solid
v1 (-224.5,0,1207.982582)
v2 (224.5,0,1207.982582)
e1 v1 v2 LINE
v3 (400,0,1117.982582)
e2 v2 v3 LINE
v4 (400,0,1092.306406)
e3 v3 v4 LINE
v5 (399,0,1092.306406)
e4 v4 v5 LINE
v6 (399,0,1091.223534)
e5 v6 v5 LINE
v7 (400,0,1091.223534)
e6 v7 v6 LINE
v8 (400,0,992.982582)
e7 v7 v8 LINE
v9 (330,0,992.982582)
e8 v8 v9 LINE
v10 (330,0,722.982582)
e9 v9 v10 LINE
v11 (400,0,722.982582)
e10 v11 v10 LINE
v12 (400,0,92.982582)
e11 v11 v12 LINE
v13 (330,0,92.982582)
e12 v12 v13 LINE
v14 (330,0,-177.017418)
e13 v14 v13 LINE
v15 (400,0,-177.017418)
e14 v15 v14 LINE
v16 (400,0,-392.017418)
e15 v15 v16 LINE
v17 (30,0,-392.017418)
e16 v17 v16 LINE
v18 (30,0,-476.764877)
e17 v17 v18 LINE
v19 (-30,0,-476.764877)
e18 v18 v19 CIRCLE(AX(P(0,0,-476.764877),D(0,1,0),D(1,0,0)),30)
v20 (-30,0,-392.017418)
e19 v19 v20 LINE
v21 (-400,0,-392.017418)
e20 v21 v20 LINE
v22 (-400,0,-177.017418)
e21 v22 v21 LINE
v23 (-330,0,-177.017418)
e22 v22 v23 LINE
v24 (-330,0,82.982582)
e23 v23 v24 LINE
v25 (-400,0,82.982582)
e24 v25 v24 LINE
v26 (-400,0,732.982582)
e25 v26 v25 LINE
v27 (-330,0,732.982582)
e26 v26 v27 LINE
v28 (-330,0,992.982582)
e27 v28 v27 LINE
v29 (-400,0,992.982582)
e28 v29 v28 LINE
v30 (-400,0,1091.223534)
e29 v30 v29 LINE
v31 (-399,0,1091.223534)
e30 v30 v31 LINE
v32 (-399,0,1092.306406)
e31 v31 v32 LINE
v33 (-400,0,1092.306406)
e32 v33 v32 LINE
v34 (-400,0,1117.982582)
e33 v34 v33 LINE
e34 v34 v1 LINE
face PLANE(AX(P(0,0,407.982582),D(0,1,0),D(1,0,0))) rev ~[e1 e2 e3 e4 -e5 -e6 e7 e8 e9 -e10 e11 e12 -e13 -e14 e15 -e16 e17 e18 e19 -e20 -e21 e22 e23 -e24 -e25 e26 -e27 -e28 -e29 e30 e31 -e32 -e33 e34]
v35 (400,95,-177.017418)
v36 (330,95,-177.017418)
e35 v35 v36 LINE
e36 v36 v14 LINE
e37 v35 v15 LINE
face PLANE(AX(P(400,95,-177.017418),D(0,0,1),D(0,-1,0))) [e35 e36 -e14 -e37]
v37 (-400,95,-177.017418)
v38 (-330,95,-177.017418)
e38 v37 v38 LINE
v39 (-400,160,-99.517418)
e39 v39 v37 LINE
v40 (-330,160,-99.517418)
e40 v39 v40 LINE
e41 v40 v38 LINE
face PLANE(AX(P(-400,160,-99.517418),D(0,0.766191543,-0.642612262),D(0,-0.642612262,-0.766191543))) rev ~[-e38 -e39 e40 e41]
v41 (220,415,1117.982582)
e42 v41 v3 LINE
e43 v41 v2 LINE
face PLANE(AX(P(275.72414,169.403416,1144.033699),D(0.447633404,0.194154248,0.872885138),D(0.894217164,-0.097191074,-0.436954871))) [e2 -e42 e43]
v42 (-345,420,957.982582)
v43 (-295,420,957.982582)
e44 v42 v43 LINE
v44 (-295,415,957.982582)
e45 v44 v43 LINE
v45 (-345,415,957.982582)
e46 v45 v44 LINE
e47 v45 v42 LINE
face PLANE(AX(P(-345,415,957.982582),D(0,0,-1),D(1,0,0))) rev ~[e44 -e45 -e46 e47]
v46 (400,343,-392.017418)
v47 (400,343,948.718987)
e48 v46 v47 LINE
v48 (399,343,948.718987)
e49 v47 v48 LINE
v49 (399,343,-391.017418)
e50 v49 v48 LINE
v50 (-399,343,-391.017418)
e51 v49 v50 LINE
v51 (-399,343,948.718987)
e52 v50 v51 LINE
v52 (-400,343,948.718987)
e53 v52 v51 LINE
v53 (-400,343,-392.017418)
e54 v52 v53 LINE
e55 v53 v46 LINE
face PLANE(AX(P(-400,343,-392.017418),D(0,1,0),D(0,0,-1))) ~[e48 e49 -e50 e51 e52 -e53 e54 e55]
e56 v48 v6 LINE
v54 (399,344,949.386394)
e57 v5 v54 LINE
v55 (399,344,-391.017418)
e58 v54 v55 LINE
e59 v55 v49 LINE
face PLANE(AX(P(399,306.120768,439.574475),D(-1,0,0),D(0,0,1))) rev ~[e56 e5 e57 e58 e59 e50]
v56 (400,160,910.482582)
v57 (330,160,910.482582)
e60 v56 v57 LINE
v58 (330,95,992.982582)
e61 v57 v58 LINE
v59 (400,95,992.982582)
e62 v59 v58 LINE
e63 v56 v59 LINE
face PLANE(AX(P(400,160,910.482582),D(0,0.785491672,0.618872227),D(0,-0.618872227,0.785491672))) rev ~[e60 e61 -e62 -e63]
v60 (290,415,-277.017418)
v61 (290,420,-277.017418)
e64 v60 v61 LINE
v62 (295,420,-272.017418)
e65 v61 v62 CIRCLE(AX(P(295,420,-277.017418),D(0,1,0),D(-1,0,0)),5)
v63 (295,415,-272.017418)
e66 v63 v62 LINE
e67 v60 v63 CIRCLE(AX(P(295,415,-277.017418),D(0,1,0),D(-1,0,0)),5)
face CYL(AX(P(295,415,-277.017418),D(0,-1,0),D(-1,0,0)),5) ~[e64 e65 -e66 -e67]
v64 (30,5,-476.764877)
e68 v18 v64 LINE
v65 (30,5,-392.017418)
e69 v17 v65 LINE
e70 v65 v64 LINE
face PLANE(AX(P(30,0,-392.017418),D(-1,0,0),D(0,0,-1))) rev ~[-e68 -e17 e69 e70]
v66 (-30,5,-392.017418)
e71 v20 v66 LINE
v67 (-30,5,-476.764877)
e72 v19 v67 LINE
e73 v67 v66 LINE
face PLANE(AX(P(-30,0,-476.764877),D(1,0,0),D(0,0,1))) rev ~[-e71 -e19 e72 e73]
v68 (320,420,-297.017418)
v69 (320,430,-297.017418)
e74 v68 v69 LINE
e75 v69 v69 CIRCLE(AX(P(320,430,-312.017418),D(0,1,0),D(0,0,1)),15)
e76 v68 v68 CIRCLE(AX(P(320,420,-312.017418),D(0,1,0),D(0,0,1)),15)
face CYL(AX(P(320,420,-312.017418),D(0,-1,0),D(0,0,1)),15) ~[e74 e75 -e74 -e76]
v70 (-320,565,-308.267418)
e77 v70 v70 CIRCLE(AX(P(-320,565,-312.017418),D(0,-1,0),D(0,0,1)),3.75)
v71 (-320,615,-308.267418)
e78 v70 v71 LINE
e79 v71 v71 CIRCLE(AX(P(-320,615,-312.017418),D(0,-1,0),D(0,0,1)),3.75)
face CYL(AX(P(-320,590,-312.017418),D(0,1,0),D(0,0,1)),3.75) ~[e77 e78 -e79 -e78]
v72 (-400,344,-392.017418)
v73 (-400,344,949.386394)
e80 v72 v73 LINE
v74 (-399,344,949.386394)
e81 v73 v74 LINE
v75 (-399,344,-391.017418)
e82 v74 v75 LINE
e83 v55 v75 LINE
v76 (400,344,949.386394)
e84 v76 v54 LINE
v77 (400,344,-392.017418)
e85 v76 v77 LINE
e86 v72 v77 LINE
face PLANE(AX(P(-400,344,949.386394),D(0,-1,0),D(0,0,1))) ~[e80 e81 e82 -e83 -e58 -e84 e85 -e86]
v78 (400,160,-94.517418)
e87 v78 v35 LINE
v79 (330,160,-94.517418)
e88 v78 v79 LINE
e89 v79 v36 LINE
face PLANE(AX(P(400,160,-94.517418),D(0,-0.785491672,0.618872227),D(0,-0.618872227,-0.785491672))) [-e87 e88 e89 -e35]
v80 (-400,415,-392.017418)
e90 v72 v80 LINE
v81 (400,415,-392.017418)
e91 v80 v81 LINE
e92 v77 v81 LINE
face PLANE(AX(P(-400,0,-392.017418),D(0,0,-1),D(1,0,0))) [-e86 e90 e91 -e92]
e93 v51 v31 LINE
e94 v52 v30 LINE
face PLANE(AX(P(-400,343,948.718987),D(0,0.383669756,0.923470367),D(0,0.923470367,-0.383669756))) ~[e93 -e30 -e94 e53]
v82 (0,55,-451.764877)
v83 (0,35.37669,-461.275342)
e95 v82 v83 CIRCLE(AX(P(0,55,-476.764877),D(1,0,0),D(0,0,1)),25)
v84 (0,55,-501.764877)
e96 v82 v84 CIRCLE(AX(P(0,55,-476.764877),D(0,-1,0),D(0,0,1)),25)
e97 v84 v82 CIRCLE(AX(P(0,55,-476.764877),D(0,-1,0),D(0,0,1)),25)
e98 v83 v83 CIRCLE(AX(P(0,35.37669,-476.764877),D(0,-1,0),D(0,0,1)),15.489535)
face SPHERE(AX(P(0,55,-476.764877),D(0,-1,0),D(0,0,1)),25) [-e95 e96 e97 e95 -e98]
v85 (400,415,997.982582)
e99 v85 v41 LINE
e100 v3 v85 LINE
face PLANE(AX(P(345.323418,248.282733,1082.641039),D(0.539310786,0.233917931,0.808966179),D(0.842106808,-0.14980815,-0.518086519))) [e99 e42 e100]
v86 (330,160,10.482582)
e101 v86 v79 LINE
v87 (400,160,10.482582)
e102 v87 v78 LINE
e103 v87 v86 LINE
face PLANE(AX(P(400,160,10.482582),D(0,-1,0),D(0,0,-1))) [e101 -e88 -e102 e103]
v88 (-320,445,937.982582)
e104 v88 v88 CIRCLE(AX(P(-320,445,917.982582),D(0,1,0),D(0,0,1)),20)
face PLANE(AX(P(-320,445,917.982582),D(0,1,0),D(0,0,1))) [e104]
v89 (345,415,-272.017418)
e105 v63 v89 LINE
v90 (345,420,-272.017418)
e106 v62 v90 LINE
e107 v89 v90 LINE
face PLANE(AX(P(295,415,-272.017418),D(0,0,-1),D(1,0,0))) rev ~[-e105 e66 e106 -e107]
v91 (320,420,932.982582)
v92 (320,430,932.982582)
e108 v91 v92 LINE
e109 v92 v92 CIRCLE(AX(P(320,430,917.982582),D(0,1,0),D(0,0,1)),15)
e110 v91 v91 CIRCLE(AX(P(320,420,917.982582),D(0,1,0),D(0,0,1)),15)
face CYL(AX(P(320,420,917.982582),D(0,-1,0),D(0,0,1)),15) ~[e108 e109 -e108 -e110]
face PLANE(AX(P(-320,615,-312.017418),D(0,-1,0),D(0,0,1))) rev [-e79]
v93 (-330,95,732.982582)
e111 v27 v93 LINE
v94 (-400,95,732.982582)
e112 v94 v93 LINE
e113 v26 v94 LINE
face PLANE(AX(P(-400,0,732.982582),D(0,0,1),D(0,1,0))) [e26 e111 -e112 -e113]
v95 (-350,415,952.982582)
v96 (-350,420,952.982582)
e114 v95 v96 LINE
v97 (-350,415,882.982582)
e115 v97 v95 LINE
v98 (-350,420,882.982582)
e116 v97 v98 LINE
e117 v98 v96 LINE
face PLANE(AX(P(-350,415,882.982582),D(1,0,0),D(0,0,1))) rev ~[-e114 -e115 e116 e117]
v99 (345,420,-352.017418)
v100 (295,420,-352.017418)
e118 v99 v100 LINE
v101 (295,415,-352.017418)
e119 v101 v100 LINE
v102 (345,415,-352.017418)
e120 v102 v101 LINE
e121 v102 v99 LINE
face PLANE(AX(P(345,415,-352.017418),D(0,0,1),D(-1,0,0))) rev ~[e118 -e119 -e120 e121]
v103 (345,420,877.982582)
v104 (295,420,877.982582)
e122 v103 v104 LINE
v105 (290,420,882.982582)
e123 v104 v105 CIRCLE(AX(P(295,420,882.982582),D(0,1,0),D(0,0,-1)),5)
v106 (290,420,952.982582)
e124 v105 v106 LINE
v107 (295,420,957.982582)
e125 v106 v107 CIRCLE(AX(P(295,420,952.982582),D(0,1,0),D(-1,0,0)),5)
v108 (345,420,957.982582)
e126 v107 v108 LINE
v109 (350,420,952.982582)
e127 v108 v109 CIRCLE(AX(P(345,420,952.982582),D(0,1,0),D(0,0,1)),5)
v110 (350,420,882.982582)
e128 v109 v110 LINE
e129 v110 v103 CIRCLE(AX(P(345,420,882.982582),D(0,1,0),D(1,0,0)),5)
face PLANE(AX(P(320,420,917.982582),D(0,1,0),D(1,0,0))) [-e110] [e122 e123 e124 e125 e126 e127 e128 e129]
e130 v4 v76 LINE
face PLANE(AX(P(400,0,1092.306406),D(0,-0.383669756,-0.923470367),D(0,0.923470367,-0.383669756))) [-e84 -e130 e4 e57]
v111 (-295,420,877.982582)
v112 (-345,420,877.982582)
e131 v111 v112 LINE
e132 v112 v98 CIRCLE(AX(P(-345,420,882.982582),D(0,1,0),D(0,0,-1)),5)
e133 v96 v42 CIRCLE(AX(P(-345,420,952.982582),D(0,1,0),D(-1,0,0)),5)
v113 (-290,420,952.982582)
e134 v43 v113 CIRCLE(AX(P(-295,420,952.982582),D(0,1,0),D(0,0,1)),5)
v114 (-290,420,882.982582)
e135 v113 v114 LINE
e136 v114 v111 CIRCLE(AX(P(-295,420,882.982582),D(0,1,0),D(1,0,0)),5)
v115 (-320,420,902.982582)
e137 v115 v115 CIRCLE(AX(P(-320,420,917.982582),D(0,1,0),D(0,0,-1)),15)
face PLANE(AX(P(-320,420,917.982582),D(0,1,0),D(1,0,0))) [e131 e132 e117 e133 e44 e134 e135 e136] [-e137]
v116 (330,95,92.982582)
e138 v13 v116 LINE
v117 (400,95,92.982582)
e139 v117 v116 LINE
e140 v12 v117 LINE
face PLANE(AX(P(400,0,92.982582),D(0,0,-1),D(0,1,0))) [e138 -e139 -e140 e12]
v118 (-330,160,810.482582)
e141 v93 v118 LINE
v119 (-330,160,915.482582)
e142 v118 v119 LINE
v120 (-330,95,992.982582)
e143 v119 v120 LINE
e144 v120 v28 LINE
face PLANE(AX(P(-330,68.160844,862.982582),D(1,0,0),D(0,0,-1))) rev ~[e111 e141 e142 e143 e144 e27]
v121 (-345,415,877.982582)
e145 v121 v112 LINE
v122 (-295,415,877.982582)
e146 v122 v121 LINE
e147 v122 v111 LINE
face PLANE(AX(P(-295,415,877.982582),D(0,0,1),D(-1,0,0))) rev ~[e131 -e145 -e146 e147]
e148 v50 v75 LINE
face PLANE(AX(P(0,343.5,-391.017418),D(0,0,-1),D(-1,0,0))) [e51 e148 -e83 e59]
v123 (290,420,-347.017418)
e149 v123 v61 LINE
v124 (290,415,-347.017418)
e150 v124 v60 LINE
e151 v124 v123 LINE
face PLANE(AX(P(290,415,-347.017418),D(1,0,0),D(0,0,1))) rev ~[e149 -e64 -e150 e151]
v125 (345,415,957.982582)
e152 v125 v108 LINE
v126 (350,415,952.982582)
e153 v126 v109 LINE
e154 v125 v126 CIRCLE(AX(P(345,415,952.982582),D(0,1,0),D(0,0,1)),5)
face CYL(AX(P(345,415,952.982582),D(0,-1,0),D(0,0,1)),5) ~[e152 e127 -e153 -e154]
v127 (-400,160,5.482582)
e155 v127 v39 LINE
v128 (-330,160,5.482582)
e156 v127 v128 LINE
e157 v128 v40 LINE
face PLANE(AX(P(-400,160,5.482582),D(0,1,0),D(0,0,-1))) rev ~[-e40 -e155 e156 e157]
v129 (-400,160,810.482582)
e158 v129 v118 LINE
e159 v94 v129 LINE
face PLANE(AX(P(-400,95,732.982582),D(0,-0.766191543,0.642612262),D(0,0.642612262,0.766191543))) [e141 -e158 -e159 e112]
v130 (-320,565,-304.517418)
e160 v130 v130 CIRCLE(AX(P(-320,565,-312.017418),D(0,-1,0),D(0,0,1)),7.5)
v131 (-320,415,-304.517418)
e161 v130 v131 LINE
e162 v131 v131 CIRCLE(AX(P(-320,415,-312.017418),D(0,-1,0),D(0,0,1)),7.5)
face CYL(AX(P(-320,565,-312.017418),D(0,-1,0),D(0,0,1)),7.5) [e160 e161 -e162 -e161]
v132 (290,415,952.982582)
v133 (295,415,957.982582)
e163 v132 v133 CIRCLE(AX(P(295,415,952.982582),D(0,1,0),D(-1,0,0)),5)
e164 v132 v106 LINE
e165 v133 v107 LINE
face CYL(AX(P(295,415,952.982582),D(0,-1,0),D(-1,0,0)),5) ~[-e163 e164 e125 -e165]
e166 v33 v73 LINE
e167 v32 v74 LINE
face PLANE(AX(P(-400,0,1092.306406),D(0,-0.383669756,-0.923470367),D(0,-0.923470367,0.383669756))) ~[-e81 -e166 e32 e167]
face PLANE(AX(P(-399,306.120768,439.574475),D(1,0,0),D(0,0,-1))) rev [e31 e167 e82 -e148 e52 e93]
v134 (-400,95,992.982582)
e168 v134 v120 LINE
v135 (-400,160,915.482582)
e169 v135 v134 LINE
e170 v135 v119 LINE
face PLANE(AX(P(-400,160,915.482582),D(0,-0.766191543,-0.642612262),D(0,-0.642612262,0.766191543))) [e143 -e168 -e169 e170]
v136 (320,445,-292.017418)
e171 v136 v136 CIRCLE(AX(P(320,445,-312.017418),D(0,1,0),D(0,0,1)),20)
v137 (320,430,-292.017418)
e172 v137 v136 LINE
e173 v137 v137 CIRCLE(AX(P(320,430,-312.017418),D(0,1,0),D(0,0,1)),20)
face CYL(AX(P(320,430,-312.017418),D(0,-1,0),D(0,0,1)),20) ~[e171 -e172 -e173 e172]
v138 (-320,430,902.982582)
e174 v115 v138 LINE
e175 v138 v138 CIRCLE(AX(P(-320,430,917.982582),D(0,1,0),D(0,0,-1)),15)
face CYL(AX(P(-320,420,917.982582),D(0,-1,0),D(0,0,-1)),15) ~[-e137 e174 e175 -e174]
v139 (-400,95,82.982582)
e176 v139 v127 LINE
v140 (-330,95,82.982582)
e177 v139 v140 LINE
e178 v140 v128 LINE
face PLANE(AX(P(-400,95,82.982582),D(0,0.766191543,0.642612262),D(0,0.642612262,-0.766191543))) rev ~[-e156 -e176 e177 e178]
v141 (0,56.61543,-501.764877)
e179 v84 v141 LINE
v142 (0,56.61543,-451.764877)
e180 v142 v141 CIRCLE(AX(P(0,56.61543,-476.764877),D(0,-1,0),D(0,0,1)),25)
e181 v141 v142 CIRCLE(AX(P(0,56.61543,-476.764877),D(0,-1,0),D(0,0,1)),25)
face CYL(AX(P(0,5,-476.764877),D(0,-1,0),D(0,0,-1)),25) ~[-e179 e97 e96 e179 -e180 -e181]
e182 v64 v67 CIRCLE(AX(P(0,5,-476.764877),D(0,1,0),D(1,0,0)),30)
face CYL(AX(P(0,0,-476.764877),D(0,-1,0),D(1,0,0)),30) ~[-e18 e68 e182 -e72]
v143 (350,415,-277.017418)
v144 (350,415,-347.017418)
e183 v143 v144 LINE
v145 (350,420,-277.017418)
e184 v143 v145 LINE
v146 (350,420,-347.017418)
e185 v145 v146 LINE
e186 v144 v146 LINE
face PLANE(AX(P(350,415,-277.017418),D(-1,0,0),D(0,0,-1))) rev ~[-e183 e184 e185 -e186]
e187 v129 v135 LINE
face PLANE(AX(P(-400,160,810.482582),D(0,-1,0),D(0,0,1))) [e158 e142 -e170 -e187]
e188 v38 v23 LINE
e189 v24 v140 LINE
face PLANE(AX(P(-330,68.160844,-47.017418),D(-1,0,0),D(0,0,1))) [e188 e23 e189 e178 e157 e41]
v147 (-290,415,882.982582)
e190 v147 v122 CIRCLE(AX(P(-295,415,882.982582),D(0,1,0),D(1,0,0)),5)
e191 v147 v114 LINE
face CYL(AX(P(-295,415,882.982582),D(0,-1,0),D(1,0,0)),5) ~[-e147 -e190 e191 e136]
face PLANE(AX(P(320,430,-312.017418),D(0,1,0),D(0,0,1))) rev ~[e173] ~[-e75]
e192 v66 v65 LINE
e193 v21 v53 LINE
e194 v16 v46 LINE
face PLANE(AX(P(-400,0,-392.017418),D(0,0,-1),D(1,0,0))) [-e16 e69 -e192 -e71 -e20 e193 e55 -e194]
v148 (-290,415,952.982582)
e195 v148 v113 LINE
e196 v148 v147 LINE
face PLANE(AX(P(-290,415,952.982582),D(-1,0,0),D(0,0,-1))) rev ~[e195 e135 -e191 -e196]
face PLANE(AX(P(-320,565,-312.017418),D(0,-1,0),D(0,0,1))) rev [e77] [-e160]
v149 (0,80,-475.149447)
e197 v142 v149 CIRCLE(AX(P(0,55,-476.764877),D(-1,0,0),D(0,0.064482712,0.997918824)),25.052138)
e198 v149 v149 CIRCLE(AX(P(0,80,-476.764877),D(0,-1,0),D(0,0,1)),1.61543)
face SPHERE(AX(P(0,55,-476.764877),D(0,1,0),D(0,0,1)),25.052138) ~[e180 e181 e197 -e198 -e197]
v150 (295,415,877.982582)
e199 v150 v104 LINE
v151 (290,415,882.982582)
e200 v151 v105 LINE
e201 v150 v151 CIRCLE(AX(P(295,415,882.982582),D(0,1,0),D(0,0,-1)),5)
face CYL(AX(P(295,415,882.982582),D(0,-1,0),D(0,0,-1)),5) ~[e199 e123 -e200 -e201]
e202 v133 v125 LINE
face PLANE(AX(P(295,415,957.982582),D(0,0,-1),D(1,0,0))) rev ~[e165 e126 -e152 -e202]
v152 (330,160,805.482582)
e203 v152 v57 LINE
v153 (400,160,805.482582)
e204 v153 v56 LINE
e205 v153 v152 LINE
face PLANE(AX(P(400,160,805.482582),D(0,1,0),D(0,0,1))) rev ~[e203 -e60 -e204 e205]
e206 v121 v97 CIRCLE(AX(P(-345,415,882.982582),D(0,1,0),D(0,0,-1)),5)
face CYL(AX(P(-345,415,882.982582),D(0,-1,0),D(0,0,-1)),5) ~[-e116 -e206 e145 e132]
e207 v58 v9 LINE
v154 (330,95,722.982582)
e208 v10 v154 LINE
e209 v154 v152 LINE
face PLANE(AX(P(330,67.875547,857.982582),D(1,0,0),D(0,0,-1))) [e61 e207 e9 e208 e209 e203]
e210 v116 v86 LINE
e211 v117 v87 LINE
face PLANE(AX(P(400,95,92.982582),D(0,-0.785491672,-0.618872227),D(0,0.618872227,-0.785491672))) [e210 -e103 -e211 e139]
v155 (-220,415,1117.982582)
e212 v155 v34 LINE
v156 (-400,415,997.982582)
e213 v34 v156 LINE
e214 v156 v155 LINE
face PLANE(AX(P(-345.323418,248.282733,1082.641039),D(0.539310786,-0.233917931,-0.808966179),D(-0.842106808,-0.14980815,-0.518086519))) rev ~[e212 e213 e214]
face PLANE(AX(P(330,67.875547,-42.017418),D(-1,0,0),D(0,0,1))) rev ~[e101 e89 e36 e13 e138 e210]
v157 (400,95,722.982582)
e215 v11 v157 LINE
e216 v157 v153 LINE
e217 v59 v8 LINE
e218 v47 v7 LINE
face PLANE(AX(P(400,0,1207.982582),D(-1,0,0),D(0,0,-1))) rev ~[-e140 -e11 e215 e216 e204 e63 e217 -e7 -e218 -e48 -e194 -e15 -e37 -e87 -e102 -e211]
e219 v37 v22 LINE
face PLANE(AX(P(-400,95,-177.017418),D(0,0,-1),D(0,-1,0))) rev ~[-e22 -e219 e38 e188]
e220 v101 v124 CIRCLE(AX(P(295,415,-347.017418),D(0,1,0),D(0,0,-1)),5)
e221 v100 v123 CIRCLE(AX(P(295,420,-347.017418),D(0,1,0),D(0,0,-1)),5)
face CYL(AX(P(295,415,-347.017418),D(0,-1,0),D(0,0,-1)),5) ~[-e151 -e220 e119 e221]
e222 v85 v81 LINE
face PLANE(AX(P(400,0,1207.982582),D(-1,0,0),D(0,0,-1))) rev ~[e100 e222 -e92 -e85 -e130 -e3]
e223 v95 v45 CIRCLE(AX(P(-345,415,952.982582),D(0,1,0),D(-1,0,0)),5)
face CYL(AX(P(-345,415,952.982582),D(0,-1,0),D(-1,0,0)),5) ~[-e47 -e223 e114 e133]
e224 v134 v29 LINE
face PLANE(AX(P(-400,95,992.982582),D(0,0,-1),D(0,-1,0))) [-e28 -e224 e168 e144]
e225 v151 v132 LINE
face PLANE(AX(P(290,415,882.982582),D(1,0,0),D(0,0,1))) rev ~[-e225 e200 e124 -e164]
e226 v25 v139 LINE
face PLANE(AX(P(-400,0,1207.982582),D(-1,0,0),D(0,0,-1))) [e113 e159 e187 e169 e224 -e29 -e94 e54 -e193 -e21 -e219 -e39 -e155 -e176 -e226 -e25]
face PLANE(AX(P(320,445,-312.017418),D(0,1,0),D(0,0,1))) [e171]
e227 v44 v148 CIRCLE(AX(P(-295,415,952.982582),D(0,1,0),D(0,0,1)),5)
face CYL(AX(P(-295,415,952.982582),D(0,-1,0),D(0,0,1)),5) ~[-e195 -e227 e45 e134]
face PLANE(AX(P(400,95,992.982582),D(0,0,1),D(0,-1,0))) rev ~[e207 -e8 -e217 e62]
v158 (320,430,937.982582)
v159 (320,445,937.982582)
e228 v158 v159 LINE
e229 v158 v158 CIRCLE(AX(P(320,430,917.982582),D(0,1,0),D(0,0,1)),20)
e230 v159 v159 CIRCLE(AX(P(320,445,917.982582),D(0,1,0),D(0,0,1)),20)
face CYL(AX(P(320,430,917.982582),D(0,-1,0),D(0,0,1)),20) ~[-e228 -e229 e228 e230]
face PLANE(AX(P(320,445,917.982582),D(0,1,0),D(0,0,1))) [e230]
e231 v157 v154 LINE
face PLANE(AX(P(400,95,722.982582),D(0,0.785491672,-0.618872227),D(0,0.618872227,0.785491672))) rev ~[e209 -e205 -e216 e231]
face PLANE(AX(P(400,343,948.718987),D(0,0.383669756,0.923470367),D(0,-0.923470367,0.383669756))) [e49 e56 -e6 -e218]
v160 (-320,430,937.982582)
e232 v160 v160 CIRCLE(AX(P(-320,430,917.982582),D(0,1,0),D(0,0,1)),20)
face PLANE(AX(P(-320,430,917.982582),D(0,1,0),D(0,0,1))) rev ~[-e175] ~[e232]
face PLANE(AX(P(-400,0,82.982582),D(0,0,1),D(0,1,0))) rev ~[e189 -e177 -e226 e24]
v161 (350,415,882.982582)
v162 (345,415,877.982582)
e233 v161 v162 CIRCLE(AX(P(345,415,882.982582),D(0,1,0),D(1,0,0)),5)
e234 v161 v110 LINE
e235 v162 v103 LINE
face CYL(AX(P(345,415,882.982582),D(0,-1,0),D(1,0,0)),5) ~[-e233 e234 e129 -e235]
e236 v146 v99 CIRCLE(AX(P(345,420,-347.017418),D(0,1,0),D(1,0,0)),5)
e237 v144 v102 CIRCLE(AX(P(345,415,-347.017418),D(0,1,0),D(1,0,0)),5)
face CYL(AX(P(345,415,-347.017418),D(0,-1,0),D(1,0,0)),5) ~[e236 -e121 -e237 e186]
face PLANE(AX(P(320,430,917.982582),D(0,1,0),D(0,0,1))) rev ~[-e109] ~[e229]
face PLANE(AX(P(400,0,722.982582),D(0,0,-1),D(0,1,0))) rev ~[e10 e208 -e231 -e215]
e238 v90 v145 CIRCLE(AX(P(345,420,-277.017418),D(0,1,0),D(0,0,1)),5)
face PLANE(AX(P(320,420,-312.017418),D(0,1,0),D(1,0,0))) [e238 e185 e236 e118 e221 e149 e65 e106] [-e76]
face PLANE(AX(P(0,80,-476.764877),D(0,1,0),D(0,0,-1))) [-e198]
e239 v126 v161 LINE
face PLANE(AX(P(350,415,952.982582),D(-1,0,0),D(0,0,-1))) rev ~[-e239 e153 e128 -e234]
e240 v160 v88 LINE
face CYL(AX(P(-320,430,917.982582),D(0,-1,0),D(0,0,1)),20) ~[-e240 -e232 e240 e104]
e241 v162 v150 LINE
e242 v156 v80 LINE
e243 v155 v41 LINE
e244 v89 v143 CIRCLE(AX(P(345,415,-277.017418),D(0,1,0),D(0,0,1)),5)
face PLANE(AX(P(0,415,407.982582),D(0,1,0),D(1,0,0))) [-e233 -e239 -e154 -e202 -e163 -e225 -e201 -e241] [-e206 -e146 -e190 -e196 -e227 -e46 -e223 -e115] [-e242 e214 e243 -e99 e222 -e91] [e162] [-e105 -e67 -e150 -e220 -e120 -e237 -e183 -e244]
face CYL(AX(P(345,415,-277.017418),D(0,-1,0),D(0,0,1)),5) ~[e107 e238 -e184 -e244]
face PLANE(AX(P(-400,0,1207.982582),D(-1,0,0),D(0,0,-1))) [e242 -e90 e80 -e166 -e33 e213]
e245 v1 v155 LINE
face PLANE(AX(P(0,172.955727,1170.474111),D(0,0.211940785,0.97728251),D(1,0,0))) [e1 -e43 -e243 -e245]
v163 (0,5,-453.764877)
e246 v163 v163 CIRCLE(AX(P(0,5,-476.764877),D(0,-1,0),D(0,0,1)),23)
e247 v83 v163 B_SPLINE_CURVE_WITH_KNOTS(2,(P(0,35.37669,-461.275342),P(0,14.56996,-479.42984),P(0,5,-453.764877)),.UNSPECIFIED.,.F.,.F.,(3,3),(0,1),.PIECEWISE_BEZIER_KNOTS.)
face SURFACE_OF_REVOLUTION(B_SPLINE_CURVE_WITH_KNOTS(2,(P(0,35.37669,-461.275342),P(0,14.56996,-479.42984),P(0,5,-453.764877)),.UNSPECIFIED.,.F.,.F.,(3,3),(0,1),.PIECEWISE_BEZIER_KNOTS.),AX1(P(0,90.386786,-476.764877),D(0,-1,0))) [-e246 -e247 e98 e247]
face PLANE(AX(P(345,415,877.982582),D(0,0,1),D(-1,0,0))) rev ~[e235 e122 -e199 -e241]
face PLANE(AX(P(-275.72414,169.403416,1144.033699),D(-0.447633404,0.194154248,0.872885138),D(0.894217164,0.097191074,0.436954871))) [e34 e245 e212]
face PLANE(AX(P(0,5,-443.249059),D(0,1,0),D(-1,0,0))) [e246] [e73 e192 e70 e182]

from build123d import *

# Parameters (mm, degrees)
CROQUIS1_W              = 800
CROQUIS1_H              = 1600
SALIENTE_EXTRUIR1_DEPTH = 415
CORTAR_EXTRUIR1_DEPTH   = 200
CORTAR_EXTRUIR2_DEPTH   = 200
CORTAR_EXTRUIR6_DEPTH   = 499
CORTAR_EXTRUIR8_DEPTH   = 359
CORTAR_EXTRUIR10_DEPTH  = 353
CORTAR_EXTRUIR12_DEPTH  = 514
CORTAR_EXTRUIR13_DEPTH  = 514
CORTAR_EXTRUIR16_DEPTH  = 70
CORTAR_EXTRUIR17_DEPTH  = 70
CORTAR_EXTRUIR18_DEPTH  = 1
CROQUIS20_W             = 800
CROQUIS20_H             = 1
CORTAR_EXTRUIR19_DEPTH  = 1
SALIENTE_EXTRUIR2_DEPTH = 5
CROQUIS22_R             = 15
SALIENTE_EXTRUIR3_DEPTH = 10
CROQUIS23_R             = 20
SALIENTE_EXTRUIR4_DEPTH = 15
SALIENTE_EXTRUIR5_DEPTH = 5
CROQUIS26_R             = 25
SALIENTE_EXTRUIR6_DEPTH = 75


with BuildPart() as part:
    # Croquis1 → Saliente-Extruir1 (new body)
    with BuildSketch(Plane(origin=(0, 0, 0), x_dir=(1, 0, 0), z_dir=(0, 1, 0))):
        with Locations((0, -407.98258177)):
            Rectangle(CROQUIS1_W, CROQUIS1_H)
    extrude(amount=SALIENTE_EXTRUIR1_DEPTH)

    # Croquis3 → Cortar-Extruir1 (cut)
    with BuildSketch(Plane(origin=(604.100569287, 262.019524028, 906.150853931), x_dir=(-0.8421068082275548, 0.1498081502111445, 0.5180865194802076), z_dir=(-0.5393107856670403, -0.23391793113269235, -0.8089661785005605))):
        Polygon((456.118589156, 88.118028239), (242.368981337, -310.549885139), (242.368981337, 121.451272267), align=None)
    extrude(amount=-CORTAR_EXTRUIR1_DEPTH, mode=Mode.SUBTRACT)

    # Croquis5 → Cortar-Extruir2 (cut)
    with BuildSketch(Plane(origin=(-604.100569287, 262.019524028, 906.150853931), x_dir=(-0.8421068082275548, -0.1498081502111445, -0.5180865194802076), z_dir=(0.5393107856670404, -0.2339179311326923, -0.8089661785005605))):
        Polygon((-242.368981337, -310.549885139), (-242.368981337, 121.451272267), (-456.118589156, 88.118028239), align=None)
    extrude(amount=-CORTAR_EXTRUIR2_DEPTH, mode=Mode.SUBTRACT)

    # Croquis8 → Cortar-Extruir6 (cut)
    with BuildSketch(Plane(origin=(0, 250.204627362, 1153.721337281), x_dir=(-1, 0, 0), z_dir=(0, -0.21194078521367435, -0.9772825095963864))):
        Polygon((220, 168.626135247), (400, -256.020776905), (-400, -256.020776905), (-220, 168.626135247), (0, 168.626135247), align=None)
    extrude(amount=-CORTAR_EXTRUIR6_DEPTH, mode=Mode.SUBTRACT)

    # Croquis12 → Cortar-Extruir8 (cut)
    with BuildSketch(Plane.XY.offset(1117.98258177)):
        Polygon((220, 415), (400, 0), (400, 415), align=None)
    extrude(amount=CORTAR_EXTRUIR8_DEPTH, mode=Mode.SUBTRACT)

    # Croquis14 → Cortar-Extruir10 (cut)
    with BuildSketch(Plane.XY.offset(1117.98258177)):
        Polygon((-220, 415), (-400, 0), (-400, 415), align=None)
    extrude(amount=CORTAR_EXTRUIR10_DEPTH, mode=Mode.SUBTRACT)

    # Croquis15 → Cortar-Extruir12 (cut)
    with BuildSketch(Plane(origin=(516.98244579, 224.233349981, 1008.11576929), x_dir=(-0.8942171635698928, 0.0971910742249457, 0.4369548712029846), z_dir=(-0.44763340400043405, -0.19415424751826063, -0.8728851378008463))):
        Polygon((327.082120211, -262.279632659), (130.821069596, -242.738649788), (332.114454842, 162.361304614), align=None)
    extrude(amount=-CORTAR_EXTRUIR12_DEPTH, mode=Mode.SUBTRACT)


with BuildPart() as body_2:
    # of the pieces the cut leaves, the one that is kept (cortar_extruir12_keep)
    add(part.part.solids().sort_by_distance((-400, 0, 1207.98258177))[0])

    # Croquis16 → Cortar-Extruir13 (cut)
    with BuildSketch(Plane(origin=(-516.98244579, 224.233349981, 1008.11576929), x_dir=(-0.8942171635698928, -0.09719107422494568, -0.43695487120298454), z_dir=(0.44763340400043394, -0.19415424751826066, -0.8728851378008463))):
        Polygon((-327.082120211, -262.279632659), (-332.114454842, 162.361304614), (-130.821069596, -242.738649788), align=None)
    extrude(amount=-CORTAR_EXTRUIR13_DEPTH, mode=Mode.SUBTRACT)


with BuildPart() as body_2_2:
    # of the pieces the cut leaves, the one that is kept (cortar_extruir13_keep)
    add(body_2.part.solids().sort_by_distance((224.5, 0, 1207.98258177))[0])

    # Croquis17 → Cortar-Extruir16 (cut)
    with BuildSketch(Plane(origin=(400, 0, 0), x_dir=(0, 0, -1), z_dir=(1, 0, 0))):
        Polygon((177.01741823, 0), (-92.98258177, 0), (-92.98258177, 95), (-10.48258177, 160), (94.51741823, 160), (177.01741823, 95), align=None)
        Polygon((-992.98258177, 0), (-722.98258177, 0), (-722.98258177, 95), (-805.48258177, 160), (-910.48258177, 160), (-992.98258177, 95), align=None)
    extrude(amount=-CORTAR_EXTRUIR16_DEPTH, mode=Mode.SUBTRACT)

    # Croquis18 → Cortar-Extruir17 (cut)
    with BuildSketch(Plane.ZY.offset(400)):
        Polygon((-177.01741823, 0), (82.98258177, 0), (82.98258177, 95), (5.48258177, 160), (-99.51741823, 160), (-177.01741823, 95), align=None)
        Polygon((992.98258177, 0), (732.98258177, 0), (732.98258177, 95), (810.48258177, 160), (915.48258177, 160), (992.98258177, 95), align=None)
    extrude(amount=-CORTAR_EXTRUIR17_DEPTH, mode=Mode.SUBTRACT)

    # Croquis19 → Cortar-Extruir18 (cut)
    with BuildSketch(Plane(origin=(400, 0, 0), x_dir=(0, 0, -1), z_dir=(1, 0, 0))):
        Polygon((392.01741823, 343), (-948.718987098, 343), (-1091.223533976, 0), (-1092.306405756, 0), (-949.386393727, 344), (392.01741823, 344), align=None)
    cortar_extruir18 = extrude(amount=-CORTAR_EXTRUIR18_DEPTH, mode=Mode.SUBTRACT)

    # Croquis20 → Cortar-Extruir19 (cut)
    with BuildSketch(Plane(origin=(0, 0, -392.01741823), x_dir=(-1, 0, 0), z_dir=(0, 0, -1))):
        with Locations((0, 343.5)):
            Rectangle(CROQUIS20_W, CROQUIS20_H)
    extrude(amount=-CORTAR_EXTRUIR19_DEPTH, mode=Mode.SUBTRACT)

    # Simetría1: Cortar-Extruir18 across plane
    add(cortar_extruir18.mirror(Plane.ZY), mode=Mode.SUBTRACT)

    # Croquis21 → Saliente-Extruir2 (add)
    with BuildSketch(Plane(origin=(0, 415, 0), x_dir=(1, 0, 0), z_dir=(0, 1, 0))):
        with BuildLine():
            Line((295, 272.01741823), (345, 272.01741823))
            ThreePointArc((345, 272.01741823), (348.535533906, 273.481884325), (350, 277.01741823))
            Line((350, 277.01741823), (350, 347.01741823))
            ThreePointArc((350, 347.01741823), (348.535533906, 350.552952136), (345, 352.01741823))
            Line((345, 352.01741823), (295, 352.01741823))
            ThreePointArc((295, 352.01741823), (291.464466094, 350.552952136), (290, 347.01741823))
            Line((290, 347.01741823), (290, 277.01741823))
            ThreePointArc((290, 277.01741823), (291.464466094, 273.481884325), (295, 272.01741823))
        make_face()
        with BuildLine():
            Line((290, -882.98258177), (290, -952.98258177))
            ThreePointArc((290, -952.98258177), (291.464466094, -956.518115675), (295, -957.98258177))
            Line((295, -957.98258177), (345, -957.98258177))
            ThreePointArc((345, -957.98258177), (348.535533906, -956.518115675), (350, -952.98258177))
            Line((350, -952.98258177), (350, -882.98258177))
            ThreePointArc((350, -882.98258177), (348.535533906, -879.447047864), (345, -877.98258177))
            Line((345, -877.98258177), (295, -877.98258177))
            ThreePointArc((295, -877.98258177), (291.464466094, -879.447047864), (290, -882.98258177))
        make_face()
        with BuildLine():
            Line((-295, -877.98258177), (-345, -877.98258177))
            ThreePointArc((-345, -877.98258177), (-348.535533906, -879.447047864), (-350, -882.98258177))
            Line((-350, -882.98258177), (-350, -952.98258177))
            ThreePointArc((-350, -952.98258177), (-348.535533906, -956.518115675), (-345, -957.98258177))
            Line((-345, -957.98258177), (-295, -957.98258177))
            ThreePointArc((-295, -957.98258177), (-291.464466094, -956.518115675), (-290, -952.98258177))
            Line((-290, -952.98258177), (-290, -882.98258177))
            ThreePointArc((-290, -882.98258177), (-291.464466094, -879.447047864), (-295, -877.98258177))
        make_face()
    extrude(amount=SALIENTE_EXTRUIR2_DEPTH)

    # Croquis22 → Saliente-Extruir3 (add)
    with BuildSketch(Plane(origin=(0, 420, 0), x_dir=(1, 0, 0), z_dir=(0, 1, 0))):
        with Locations((320, 312.01741823)):
            Circle(CROQUIS22_R)
        with Locations((320, -917.98258177)):
            Circle(CROQUIS22_R)
        with Locations((-320, -917.98258177)):
            Circle(CROQUIS22_R)
    extrude(amount=SALIENTE_EXTRUIR3_DEPTH)

    # Croquis23 → Saliente-Extruir4 (add)
    with BuildSketch(Plane(origin=(0, 430, 0), x_dir=(1, 0, 0), z_dir=(0, 1, 0))):
        with Locations((320, 312.01741823)):
            Circle(CROQUIS23_R)
        with Locations((320, -917.98258177)):
            Circle(CROQUIS23_R)
        with Locations((-320, -917.98258177)):
            Circle(CROQUIS23_R)
    extrude(amount=SALIENTE_EXTRUIR4_DEPTH)

    # Croquis25 → Saliente-Extruir5 (add)
    with BuildSketch(Plane.XZ):
        with BuildLine():
            Line((-30, -476.764876907), (-30, -392.01741823))
            Line((-30, -392.01741823), (30, -392.01741823))
            Line((30, -392.01741823), (30, -476.764876907))
            ThreePointArc((30, -476.764876907), (0, -506.764876907), (-30, -476.764876907))
        make_face()
    extrude(amount=-SALIENTE_EXTRUIR5_DEPTH)

    # Croquis26 → Saliente-Extruir6 (add)
    with BuildSketch(Plane(origin=(0, 5, 0), x_dir=(1, 0, 0), z_dir=(0, 1, 0))):
        with Locations((0, 476.764876907)):
            Circle(CROQUIS26_R)
    extrude(amount=SALIENTE_EXTRUIR6_DEPTH)

    # Croquis28 → Cortar-Revolución7 (revolve, cut)
    with BuildSketch(Plane.ZY):
        with BuildLine():
            Line((-451.764876907, 5), (-451.764876907, 55))
            ThreePointArc((-451.764876907, 55), (-454.267783945, 44.096752398), (-461.275341569, 35.376690009))
            add(Edge.make_bspline(
                [(-461.275341569, 35.376690009), (-479.429840017, 14.56995995), (-453.764876907, 5)],
                knots=[0, 0, 0, 1, 1, 1], degree=2))
            Line((-453.764876907, 5), (-451.764876907, 5))
        make_face()
    revolve(axis=Axis((0, 90.386786237, -476.764876907), (0, -1, 0)), mode=Mode.SUBTRACT)

    # Croquis29 → Cortar-Revolución26 (revolve, cut)
    with BuildSketch(Plane.ZY):
        with BuildLine():
            Line((-475.149447102, 80), (-475.149447102, 84.514502028))
            Line((-475.149447102, 84.514502028), (-446.334832781, 84.514502028))
            Line((-446.334832781, 84.514502028), (-446.334832781, 57.478552518))
            Line((-446.334832781, 57.478552518), (-451.764876907, 56.615429804))
            ThreePointArc((-451.764876907, 56.615429804), (-459.050340313, 72.714536594), (-475.149447102, 80))
        make_face()
    revolve(axis=Axis((0, 80, -476.764876907), (0, -1, 0)), mode=Mode.SUBTRACT)

    # Croquis30 → Revolución1 (revolve)
    with BuildSketch(Plane(origin=(0, 0, -312.01741823), x_dir=(-1, 0, 0), z_dir=(0, 0, -1))):
        Polygon((327.5, 415), (327.5, 565), (323.75, 565), (323.75, 615), (320, 615), (320, 415), align=None)
    revolve(axis=Axis((-320, 633.577098179, -312.01741823), (0, -1, 0)))


solid = body_2_2.part
